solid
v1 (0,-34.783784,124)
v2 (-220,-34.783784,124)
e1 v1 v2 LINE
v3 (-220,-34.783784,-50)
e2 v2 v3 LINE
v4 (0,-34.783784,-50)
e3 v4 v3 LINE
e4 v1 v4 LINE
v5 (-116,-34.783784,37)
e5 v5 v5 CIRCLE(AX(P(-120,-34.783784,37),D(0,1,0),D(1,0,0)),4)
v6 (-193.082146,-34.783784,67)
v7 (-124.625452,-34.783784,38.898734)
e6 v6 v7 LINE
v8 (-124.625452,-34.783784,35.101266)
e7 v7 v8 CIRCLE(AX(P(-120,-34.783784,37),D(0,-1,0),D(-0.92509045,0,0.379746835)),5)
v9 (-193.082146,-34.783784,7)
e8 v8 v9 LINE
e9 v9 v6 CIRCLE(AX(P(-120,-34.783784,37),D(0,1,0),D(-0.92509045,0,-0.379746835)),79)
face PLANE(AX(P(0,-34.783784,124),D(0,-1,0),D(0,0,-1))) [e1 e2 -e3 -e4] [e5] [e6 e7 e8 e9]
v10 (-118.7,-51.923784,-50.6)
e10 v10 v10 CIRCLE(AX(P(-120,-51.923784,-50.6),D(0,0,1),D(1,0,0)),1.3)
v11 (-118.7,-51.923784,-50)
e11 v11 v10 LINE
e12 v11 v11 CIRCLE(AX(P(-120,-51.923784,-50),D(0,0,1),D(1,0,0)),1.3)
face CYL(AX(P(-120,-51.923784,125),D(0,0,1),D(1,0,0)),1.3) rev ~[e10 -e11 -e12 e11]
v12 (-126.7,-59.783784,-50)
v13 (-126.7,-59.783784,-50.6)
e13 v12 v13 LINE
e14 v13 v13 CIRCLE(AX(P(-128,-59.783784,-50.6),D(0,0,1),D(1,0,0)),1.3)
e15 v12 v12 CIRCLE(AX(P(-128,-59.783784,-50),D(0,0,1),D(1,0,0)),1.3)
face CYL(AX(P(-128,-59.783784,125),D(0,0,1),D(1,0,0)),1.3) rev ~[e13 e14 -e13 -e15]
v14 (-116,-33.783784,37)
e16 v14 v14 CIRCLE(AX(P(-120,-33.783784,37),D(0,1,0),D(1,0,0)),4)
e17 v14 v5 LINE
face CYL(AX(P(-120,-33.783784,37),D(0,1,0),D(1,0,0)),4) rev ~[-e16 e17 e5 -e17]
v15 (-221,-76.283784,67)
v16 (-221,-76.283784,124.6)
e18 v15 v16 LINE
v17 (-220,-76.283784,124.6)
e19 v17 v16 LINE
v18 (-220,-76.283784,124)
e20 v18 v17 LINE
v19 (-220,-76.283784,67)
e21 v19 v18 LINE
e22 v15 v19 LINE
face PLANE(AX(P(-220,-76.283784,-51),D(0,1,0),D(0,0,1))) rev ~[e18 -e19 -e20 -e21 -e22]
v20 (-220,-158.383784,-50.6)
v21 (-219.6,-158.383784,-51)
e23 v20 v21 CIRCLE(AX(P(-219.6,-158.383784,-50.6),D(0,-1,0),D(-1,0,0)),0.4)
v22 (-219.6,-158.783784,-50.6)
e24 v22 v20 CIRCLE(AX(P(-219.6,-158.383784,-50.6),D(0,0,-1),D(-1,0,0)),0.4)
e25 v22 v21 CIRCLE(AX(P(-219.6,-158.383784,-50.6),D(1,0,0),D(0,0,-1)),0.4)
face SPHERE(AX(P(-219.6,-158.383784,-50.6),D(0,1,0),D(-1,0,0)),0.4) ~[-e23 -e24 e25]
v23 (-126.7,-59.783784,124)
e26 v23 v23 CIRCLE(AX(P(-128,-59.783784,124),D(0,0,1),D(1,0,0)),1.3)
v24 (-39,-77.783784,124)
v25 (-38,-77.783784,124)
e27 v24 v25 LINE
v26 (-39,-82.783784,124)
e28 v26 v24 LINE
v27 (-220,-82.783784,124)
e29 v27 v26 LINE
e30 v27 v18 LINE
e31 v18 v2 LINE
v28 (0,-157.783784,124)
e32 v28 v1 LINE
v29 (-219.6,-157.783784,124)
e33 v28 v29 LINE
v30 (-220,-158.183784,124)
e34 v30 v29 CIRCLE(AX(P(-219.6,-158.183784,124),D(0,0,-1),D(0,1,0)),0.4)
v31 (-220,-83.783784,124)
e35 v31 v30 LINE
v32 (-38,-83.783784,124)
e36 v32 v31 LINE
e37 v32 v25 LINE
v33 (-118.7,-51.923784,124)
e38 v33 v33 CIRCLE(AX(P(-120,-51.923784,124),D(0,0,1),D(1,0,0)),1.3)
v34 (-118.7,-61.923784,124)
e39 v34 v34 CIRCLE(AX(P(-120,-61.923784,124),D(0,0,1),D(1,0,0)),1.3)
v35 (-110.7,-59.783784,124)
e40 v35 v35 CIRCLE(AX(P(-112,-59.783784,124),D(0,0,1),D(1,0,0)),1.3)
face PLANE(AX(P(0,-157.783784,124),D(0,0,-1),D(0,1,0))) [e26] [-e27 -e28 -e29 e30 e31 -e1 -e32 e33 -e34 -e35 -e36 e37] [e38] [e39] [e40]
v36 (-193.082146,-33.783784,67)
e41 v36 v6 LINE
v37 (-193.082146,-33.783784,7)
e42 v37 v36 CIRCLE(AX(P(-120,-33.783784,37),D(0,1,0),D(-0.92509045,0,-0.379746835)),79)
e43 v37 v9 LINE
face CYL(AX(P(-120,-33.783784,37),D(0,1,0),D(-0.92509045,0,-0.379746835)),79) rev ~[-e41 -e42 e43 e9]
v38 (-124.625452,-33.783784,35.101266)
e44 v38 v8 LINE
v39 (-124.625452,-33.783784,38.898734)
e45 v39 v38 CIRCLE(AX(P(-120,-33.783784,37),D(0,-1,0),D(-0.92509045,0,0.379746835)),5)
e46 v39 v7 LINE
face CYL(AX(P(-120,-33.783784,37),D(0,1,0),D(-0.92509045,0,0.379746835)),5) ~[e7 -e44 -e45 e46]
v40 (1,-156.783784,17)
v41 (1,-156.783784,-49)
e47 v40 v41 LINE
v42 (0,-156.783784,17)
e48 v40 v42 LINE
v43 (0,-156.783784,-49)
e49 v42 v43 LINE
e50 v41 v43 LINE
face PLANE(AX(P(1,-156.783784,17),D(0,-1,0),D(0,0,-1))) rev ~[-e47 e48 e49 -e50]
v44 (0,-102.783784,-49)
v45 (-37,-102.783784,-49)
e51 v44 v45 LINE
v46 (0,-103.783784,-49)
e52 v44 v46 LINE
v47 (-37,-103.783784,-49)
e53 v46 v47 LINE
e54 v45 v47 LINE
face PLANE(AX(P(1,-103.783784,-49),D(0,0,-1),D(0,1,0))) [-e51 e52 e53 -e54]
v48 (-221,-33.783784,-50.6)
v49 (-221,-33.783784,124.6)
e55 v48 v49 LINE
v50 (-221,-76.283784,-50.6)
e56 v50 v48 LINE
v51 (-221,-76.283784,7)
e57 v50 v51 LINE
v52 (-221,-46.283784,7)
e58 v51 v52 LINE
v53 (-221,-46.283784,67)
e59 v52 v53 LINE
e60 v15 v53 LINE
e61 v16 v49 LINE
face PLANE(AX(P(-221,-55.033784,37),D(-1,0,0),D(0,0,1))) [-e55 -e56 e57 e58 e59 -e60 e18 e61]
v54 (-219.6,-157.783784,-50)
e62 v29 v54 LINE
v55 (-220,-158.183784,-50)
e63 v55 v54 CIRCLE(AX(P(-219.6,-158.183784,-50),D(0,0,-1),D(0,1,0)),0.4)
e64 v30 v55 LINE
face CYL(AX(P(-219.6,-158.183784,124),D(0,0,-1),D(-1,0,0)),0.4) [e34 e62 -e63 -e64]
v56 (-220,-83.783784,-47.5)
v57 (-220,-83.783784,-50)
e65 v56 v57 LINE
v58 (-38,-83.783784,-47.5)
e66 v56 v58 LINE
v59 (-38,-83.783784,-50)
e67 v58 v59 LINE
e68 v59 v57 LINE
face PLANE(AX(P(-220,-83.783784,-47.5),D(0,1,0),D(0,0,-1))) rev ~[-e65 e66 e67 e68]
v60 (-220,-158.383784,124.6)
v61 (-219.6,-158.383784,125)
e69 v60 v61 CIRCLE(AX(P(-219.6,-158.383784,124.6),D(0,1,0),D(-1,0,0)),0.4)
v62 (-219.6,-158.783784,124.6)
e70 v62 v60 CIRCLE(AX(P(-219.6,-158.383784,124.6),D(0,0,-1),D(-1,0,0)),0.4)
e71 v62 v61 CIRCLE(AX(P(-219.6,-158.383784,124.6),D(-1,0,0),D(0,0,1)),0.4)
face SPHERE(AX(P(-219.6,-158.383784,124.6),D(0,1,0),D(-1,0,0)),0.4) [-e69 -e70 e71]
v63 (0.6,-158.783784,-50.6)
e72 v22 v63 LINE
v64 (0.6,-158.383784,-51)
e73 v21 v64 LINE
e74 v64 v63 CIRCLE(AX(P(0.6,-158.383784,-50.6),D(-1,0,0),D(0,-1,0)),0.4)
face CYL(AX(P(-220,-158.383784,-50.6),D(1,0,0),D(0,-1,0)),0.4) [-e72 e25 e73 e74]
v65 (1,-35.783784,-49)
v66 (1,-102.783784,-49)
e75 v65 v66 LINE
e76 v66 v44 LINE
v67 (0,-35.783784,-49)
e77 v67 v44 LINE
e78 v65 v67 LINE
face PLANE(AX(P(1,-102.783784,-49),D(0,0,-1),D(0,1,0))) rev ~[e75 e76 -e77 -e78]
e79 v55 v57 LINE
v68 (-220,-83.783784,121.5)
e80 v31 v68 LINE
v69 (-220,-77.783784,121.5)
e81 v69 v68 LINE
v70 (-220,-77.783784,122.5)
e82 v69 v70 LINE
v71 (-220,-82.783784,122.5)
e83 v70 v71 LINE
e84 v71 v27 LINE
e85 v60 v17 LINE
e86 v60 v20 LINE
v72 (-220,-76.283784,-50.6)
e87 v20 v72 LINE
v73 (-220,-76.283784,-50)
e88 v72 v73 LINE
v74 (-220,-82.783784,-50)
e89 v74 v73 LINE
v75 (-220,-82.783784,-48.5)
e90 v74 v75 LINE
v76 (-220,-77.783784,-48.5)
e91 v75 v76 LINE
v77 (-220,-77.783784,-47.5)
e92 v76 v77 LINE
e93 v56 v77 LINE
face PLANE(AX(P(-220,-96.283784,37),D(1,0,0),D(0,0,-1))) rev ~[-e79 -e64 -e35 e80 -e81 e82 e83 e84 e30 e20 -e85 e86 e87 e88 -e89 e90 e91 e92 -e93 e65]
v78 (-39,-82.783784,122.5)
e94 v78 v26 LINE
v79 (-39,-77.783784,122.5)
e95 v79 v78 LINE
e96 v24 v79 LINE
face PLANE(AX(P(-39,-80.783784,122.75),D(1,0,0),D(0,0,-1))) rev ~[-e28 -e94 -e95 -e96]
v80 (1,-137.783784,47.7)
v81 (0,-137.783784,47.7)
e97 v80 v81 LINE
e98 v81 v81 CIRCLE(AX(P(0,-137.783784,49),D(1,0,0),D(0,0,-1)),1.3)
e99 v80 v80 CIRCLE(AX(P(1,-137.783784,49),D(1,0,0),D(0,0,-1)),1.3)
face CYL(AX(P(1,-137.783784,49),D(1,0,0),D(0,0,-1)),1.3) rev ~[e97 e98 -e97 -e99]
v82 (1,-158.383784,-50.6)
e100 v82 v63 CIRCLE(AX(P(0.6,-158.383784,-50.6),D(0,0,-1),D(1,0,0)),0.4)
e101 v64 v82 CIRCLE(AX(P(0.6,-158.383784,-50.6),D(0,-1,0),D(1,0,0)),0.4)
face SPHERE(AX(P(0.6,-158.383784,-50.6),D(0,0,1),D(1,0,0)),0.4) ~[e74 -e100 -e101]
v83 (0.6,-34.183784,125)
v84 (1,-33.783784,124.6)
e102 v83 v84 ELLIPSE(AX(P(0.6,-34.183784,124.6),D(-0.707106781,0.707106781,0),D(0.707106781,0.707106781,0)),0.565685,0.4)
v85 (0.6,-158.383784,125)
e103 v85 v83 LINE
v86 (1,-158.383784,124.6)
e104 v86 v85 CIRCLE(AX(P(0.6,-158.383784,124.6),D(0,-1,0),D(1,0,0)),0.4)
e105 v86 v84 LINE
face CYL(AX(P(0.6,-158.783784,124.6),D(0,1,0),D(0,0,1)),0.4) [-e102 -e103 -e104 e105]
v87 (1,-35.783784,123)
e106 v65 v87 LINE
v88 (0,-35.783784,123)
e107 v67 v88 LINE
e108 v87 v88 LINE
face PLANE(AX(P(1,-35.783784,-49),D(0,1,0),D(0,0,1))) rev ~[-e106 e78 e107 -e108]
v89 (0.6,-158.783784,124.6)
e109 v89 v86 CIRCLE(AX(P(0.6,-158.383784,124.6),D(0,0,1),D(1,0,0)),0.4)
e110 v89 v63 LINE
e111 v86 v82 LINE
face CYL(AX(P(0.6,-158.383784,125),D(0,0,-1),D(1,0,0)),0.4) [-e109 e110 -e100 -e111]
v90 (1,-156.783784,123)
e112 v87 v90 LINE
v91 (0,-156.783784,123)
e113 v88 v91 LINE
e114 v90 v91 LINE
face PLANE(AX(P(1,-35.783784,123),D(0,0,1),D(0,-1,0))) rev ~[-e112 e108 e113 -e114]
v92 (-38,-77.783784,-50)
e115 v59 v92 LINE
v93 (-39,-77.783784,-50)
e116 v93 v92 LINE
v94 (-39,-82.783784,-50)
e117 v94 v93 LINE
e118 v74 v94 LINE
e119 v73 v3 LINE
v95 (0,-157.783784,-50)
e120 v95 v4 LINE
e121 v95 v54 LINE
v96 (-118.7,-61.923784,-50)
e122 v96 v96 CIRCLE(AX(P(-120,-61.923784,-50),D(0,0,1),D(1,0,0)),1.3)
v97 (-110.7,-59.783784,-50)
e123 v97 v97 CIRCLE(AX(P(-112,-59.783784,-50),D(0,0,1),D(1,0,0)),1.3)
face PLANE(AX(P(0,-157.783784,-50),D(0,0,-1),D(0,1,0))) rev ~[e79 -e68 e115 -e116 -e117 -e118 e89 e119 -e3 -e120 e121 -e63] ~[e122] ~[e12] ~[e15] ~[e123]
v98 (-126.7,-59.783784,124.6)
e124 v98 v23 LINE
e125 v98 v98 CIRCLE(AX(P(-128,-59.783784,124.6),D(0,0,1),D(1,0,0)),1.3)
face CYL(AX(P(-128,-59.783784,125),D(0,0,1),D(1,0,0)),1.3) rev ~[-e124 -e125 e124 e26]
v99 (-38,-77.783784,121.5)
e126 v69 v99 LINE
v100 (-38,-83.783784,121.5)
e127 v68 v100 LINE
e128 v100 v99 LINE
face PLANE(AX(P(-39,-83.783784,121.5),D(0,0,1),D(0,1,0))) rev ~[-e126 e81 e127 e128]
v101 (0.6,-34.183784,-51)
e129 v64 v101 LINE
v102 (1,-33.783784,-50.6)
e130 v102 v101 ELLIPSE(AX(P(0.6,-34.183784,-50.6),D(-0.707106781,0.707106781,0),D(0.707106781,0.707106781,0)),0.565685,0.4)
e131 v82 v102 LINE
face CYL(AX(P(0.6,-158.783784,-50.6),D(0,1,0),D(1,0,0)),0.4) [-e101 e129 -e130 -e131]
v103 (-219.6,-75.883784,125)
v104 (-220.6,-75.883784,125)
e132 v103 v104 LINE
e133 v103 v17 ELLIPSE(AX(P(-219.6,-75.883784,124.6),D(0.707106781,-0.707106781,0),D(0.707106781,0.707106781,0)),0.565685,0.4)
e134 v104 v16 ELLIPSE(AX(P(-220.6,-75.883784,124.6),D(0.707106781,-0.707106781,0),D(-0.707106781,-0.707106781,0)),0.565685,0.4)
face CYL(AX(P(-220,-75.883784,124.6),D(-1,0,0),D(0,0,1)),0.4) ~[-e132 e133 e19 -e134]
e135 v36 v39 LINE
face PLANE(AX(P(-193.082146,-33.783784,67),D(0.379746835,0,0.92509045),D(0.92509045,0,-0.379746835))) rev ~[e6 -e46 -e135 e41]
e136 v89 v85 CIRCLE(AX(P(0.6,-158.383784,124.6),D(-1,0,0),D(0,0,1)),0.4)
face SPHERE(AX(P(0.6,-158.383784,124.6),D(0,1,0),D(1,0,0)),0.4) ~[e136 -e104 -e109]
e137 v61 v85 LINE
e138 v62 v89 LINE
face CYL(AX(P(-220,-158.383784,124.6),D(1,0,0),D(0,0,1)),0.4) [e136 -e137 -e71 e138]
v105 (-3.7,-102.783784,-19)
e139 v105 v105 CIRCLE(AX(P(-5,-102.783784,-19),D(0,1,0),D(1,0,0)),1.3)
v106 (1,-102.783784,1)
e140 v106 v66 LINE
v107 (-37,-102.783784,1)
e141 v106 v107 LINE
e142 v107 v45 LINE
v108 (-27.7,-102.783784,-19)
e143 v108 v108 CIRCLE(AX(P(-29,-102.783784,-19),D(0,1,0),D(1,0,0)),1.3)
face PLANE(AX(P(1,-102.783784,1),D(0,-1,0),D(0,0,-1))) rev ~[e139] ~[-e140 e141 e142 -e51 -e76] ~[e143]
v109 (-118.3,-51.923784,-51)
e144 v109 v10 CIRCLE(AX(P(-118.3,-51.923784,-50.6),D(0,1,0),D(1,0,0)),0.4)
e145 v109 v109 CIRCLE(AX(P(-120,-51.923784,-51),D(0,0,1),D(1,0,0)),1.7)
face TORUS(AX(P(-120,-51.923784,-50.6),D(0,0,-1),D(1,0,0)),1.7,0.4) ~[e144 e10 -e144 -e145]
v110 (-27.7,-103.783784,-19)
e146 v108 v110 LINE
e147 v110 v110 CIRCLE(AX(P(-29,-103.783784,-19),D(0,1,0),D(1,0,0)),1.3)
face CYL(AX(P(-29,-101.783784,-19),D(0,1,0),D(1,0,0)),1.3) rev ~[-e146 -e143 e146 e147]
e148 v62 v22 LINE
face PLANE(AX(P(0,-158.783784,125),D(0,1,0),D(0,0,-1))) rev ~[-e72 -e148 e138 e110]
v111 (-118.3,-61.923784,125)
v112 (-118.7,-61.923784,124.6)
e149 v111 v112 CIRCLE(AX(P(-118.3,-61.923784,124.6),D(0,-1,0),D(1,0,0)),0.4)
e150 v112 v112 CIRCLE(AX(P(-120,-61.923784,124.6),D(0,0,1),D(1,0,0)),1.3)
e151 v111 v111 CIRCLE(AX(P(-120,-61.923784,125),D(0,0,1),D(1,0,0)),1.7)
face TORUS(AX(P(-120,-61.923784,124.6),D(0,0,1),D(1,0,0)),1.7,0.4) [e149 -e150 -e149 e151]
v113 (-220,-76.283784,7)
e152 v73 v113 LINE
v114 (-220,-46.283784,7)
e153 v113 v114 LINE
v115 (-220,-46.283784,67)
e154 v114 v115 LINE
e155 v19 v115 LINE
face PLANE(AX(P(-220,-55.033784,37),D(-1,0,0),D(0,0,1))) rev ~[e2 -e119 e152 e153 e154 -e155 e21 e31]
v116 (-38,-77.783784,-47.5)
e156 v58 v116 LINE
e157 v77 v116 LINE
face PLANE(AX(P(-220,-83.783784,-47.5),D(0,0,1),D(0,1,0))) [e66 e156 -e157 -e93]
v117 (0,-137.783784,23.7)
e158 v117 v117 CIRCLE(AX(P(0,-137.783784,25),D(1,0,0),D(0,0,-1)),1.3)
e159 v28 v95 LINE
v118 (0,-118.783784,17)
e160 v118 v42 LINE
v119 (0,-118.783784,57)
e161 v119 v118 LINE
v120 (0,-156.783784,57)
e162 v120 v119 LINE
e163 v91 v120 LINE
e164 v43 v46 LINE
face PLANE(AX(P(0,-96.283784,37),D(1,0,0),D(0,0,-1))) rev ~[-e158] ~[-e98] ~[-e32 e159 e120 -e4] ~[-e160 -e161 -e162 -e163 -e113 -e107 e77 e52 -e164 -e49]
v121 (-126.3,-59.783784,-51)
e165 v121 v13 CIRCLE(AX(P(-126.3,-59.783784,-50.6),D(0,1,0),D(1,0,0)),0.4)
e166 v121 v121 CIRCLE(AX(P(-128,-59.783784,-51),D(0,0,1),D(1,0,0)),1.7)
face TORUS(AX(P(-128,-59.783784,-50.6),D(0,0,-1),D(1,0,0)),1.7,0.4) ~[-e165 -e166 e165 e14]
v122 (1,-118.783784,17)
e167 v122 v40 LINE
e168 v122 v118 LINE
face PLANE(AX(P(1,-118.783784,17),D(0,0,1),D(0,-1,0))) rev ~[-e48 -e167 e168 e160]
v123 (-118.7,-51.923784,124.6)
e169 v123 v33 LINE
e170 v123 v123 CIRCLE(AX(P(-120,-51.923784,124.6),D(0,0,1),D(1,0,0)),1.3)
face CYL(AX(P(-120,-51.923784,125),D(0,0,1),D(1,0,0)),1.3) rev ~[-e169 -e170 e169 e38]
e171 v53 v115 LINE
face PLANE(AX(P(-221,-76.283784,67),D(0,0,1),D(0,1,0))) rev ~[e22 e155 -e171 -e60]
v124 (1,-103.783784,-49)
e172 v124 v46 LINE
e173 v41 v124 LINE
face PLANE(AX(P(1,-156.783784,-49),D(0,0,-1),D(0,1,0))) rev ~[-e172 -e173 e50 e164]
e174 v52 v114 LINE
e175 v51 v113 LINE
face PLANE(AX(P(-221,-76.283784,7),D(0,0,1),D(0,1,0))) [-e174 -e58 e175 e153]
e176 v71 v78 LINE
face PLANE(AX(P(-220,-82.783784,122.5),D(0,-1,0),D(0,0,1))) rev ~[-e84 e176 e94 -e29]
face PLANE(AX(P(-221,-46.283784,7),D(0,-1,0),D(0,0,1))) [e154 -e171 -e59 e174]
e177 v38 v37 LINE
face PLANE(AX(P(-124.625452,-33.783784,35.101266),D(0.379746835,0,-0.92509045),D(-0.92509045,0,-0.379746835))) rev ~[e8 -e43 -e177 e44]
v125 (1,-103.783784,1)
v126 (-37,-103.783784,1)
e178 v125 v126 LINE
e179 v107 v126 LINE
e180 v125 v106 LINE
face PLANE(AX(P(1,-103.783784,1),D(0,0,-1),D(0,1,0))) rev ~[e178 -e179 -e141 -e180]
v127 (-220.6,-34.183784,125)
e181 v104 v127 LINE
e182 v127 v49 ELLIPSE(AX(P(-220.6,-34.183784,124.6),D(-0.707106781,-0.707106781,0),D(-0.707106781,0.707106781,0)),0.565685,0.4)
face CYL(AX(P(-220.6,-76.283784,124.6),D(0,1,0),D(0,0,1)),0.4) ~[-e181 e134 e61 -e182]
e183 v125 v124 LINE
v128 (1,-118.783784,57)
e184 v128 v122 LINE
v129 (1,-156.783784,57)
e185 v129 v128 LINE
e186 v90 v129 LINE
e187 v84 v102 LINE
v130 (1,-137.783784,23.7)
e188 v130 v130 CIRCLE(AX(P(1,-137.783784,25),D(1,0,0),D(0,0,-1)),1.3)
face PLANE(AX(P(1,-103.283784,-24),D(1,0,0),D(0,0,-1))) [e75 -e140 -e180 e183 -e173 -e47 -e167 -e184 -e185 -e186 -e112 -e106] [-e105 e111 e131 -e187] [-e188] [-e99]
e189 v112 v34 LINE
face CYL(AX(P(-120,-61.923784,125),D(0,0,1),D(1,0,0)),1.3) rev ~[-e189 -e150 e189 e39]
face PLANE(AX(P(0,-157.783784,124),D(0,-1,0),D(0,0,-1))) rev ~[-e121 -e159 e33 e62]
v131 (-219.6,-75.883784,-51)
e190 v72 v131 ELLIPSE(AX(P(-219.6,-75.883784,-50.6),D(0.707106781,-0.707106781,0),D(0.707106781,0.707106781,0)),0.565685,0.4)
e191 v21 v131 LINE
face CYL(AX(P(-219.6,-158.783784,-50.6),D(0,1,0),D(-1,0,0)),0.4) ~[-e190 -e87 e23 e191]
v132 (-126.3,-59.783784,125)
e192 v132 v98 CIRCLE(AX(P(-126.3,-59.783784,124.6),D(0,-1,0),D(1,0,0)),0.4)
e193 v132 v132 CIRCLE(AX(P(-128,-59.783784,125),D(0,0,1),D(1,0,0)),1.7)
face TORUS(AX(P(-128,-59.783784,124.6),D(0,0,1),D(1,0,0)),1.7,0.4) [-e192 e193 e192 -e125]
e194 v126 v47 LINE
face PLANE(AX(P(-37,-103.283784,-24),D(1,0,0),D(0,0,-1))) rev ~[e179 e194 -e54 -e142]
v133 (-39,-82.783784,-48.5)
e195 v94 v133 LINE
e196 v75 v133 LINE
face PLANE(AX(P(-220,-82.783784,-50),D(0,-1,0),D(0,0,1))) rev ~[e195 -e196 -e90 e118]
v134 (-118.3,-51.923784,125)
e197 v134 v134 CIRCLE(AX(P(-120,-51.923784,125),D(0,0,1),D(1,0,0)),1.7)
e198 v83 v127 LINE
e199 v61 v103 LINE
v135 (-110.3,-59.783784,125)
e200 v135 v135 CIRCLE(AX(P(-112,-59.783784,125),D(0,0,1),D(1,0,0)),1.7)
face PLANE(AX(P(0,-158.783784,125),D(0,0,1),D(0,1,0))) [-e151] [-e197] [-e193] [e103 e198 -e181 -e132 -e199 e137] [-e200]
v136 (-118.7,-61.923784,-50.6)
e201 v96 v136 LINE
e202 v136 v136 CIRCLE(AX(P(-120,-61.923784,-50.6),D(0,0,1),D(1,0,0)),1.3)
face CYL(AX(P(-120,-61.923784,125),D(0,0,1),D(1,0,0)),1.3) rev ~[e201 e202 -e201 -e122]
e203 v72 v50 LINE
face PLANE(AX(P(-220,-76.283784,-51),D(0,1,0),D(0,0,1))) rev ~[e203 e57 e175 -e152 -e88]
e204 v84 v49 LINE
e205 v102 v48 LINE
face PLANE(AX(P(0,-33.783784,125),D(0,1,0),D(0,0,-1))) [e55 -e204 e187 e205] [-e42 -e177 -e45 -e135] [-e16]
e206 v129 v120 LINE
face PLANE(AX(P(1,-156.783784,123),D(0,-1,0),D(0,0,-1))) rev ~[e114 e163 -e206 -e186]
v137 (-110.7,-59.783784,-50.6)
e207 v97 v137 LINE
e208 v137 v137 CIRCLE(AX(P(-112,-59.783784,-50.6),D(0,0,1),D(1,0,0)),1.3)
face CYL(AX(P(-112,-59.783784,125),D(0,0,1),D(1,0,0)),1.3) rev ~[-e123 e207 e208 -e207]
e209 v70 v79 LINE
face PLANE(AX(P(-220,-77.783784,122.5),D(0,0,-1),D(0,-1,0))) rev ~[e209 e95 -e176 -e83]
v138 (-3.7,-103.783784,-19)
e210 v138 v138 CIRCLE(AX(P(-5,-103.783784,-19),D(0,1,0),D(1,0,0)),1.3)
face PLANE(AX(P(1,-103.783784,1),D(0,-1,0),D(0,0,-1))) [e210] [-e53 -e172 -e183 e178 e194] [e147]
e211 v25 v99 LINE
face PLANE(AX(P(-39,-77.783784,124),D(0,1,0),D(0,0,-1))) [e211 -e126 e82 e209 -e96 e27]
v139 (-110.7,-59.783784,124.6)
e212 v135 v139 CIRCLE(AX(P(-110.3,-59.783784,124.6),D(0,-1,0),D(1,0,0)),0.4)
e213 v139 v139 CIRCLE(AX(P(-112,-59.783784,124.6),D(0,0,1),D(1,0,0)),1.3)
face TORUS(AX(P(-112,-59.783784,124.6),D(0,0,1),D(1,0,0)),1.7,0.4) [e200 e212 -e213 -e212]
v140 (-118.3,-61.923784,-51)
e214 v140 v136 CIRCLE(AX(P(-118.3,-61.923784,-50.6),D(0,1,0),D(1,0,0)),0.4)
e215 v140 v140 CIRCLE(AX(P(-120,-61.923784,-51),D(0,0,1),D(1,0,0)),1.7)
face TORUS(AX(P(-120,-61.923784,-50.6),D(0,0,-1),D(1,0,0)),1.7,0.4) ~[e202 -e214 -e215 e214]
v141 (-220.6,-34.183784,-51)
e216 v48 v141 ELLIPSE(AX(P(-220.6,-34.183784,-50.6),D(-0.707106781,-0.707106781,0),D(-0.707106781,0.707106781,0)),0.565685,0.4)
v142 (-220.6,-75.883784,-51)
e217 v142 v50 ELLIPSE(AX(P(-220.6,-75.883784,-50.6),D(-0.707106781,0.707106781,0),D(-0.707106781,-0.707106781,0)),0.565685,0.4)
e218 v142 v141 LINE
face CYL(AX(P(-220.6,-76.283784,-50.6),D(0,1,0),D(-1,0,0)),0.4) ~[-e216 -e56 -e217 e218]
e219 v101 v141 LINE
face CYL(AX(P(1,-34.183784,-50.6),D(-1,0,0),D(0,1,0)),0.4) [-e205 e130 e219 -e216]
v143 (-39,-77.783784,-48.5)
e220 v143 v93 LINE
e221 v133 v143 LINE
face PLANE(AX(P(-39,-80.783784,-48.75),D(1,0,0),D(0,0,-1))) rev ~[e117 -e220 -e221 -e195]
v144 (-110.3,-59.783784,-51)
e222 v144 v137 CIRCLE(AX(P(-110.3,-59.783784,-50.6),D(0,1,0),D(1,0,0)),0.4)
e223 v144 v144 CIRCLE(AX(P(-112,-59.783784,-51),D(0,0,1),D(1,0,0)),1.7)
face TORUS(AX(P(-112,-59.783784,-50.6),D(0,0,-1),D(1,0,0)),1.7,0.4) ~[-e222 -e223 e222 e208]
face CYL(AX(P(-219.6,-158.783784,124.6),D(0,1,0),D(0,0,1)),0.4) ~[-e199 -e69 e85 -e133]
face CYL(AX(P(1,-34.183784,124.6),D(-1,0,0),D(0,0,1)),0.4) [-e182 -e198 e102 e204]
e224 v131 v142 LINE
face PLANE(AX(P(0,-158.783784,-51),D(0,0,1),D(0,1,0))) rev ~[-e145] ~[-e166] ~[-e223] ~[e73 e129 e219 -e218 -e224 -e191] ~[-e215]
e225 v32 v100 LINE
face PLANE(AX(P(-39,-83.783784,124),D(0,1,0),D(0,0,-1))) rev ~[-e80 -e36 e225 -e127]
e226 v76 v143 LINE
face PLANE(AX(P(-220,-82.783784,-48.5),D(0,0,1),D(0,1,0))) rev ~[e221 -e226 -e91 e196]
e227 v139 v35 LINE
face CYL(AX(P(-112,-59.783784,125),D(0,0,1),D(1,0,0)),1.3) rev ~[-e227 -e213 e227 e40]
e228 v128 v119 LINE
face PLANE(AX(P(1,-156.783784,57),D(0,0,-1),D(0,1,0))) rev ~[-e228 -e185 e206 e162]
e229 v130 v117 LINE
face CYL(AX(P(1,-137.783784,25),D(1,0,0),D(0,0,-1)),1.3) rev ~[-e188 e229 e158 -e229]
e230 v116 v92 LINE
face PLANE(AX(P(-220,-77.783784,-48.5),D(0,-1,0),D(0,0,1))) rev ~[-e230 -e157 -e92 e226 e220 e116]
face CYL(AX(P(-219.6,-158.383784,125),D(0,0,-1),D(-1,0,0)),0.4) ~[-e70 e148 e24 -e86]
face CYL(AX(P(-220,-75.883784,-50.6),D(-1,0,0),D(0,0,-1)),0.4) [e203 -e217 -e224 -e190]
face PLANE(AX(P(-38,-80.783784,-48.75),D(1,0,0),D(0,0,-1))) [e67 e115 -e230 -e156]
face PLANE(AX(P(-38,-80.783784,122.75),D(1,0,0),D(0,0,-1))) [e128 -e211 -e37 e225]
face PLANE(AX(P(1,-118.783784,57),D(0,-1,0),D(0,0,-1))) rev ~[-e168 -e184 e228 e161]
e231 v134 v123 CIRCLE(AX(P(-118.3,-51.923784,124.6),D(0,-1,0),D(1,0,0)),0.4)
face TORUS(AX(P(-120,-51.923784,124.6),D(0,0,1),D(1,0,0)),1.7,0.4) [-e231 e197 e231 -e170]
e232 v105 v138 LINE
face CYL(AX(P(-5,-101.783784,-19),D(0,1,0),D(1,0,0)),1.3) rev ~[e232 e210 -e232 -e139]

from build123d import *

# Parameters (mm, degrees)
SKETCH3_W               = 176
SKETCH3_H               = 125
SKETCH3_W_2             = 174
SKETCH3_H_2             = 123
BOSS_EXTRUDE1_DEPTH     = 220
BOSS_EXTRUDE3_DEPTH     = 181
SKETCH9_W               = 2.5
SKETCH9_H               = 6
BOSS_EXTRUDE4_DEPTH     = 1
SKETCH11_R              = 4
CUT_EXTRUDE1_DEPTH      = 1
SKETCH12_W              = 176
SKETCH12_H              = 42.5
BOSS_EXTRUDE5_DEPTH     = 1
SKETCH13_W              = 60
SKETCH13_H              = 30
CUT_EXTRUDE2_DEPTH      = 1
SKETCH18_R              = 1.3
CUT_EXTRUDE3_DEPTH      = 1
CUT_EXTRUDE3_DEPTH_BACK = 177
SKETCH20_R              = 1.3
CUT_EXTRUDE4_DEPTH      = 1
CUT_EXTRUDE4_DEPTH_BACK = 177
SKETCH22_W              = 176
SKETCH22_H              = 125
BOSS_EXTRUDE6_DEPTH     = 1
SKETCH23_R              = 1.3
CUT_EXTRUDE5_DEPTH      = 2
CUT_EXTRUDE6_DEPTH      = 2
FILLET5_R               = 0.4
SKETCH25_W              = 50
SKETCH25_H              = 1
BOSS_EXTRUDE7_DEPTH     = 50
SKETCH28_R              = 1.3
CUT_EXTRUDE7_DEPTH      = 1
SKETCH29_W              = 50
SKETCH29_H              = 1
BOSS_EXTRUDE9_DEPTH     = 40
SKETCH30_W              = 50
SKETCH30_H              = 1
CUT_EXTRUDE9_DEPTH      = 12
CUT_EXTRUDE11_REACH     = 59
SKETCH31_R              = 1.3
SKETCH32_W              = 50
SKETCH32_H              = 1
BOSS_EXTRUDE10_DEPTH    = 38
SKETCH33_R              = 1.3
CUT_EXTRUDE12_DEPTH     = 38
SKETCH34_W              = 50
SKETCH34_H              = 1
CUT_EXTRUDE13_DEPTH     = 38


with BuildPart() as part:
    # Sketch3 → Boss-Extrude1 (new body)
    with BuildSketch(Plane(origin=(0, 0, 0), x_dir=(0, 0, -1), z_dir=(1, 0, 0))):
        with Locations((-37, -96.283783784)):
            Rectangle(SKETCH3_W, SKETCH3_H)
        with Locations((-37, -96.283783784)):
            Rectangle(SKETCH3_W_2, SKETCH3_H_2, mode=Mode.SUBTRACT)
    extrude(amount=-BOSS_EXTRUDE1_DEPTH)

    # Sketch6 → Boss-Extrude3 (add)
    with BuildSketch(Plane.ZY.offset(220)):
        Polygon((-50, -82.783783784), (-48.5, -82.783783784), (-48.5, -77.783783784), (-47.5, -77.783783784), (-47.5, -82.783783784), (-47.5, -83.783783784), (-50, -83.783783784), align=None)
        Polygon((124, -82.783783784), (124, -83.783783784), (121.5, -83.783783784), (121.5, -82.783783784), (121.5, -77.783783784), (122.5, -77.783783784), (122.5, -82.783783784), align=None)
    extrude(amount=-BOSS_EXTRUDE3_DEPTH)

    # Sketch9 → Boss-Extrude4 (add)
    with BuildSketch(Plane(origin=(-39, 0, 0), x_dir=(0, 0, -1), z_dir=(1, 0, 0))):
        with Locations((-122.75, -80.783783784)):
            Rectangle(SKETCH9_W, SKETCH9_H)
        with Locations((48.75, -80.783783784)):
            Rectangle(SKETCH9_W, SKETCH9_H)
    extrude(amount=BOSS_EXTRUDE4_DEPTH)

    # Sketch11 → Cut-Extrude1 (cut)
    with BuildSketch(Plane(origin=(0, -33.783783784, 0), x_dir=(1, 0, 0), z_dir=(0, 1, 0))):
        with BuildLine():
            Line((-124.625452251, -35.101265823), (-193.082145562, -7))
            ThreePointArc((-193.082145562, -7), (-199, -37), (-193.082145562, -67))
            Line((-193.082145562, -67), (-124.625452251, -38.898734177))
            ThreePointArc((-124.625452251, -38.898734177), (-125, -37), (-124.625452251, -35.101265823))
        make_face()
        with Locations((-120, -37)):
            Circle(SKETCH11_R)
    extrude(amount=-CUT_EXTRUDE1_DEPTH, mode=Mode.SUBTRACT)

    # Sketch12 → Boss-Extrude5 (add)
    with BuildSketch(Plane.ZY.offset(220)):
        with Locations((37, -55.033783784)):
            Rectangle(SKETCH12_W, SKETCH12_H)
    extrude(amount=BOSS_EXTRUDE5_DEPTH)

    # Sketch13 → Cut-Extrude2 (cut)
    with BuildSketch(Plane.ZY.offset(221)):
        with Locations((37, -61.283783784)):
            Rectangle(SKETCH13_W, SKETCH13_H)
    extrude(amount=-CUT_EXTRUDE2_DEPTH, mode=Mode.SUBTRACT)

    # Sketch18 → Cut-Extrude3 (cut, two sides)
    with BuildSketch(Plane.XY.offset(125)) as cut_extrude3_sk:
        with Locations((-120, -51.923783784)):
            Circle(SKETCH18_R)
        with Locations((-120, -61.923783784)):
            Circle(SKETCH18_R)
    extrude(amount=CUT_EXTRUDE3_DEPTH, mode=Mode.SUBTRACT)
    extrude(cut_extrude3_sk.sketch, amount=-CUT_EXTRUDE3_DEPTH_BACK, mode=Mode.SUBTRACT)

    # Sketch20 → Cut-Extrude4 (cut, two sides)
    with BuildSketch(Plane.XY.offset(125)) as cut_extrude4_sk:
        with Locations((-128, -59.783783784)):
            Circle(SKETCH20_R)
        with Locations((-112, -59.783783784)):
            Circle(SKETCH20_R)
    extrude(amount=CUT_EXTRUDE4_DEPTH, mode=Mode.SUBTRACT)
    extrude(cut_extrude4_sk.sketch, amount=-CUT_EXTRUDE4_DEPTH_BACK, mode=Mode.SUBTRACT)

    # Sketch22 → Boss-Extrude6 (add)
    with BuildSketch(Plane(origin=(0, 0, 0), x_dir=(0, 0, -1), z_dir=(1, 0, 0))):
        with Locations((-37, -96.283783784)):
            Rectangle(SKETCH22_W, SKETCH22_H)
    extrude(amount=BOSS_EXTRUDE6_DEPTH)

    # Sketch23 → Cut-Extrude5 (cut)
    with BuildSketch(Plane(origin=(1, 0, 0), x_dir=(0, 0, -1), z_dir=(1, 0, 0))):
        with Locations((-49, -137.783783784)):
            Circle(SKETCH23_R)
        with Locations((-25, -137.783783784)):
            Circle(SKETCH23_R)
    extrude(amount=-CUT_EXTRUDE5_DEPTH, mode=Mode.SUBTRACT)

    # Sketch24 → Cut-Extrude6 (cut)
    with BuildSketch(Plane(origin=(1, 0, 0), x_dir=(0, 0, -1), z_dir=(1, 0, 0))):
        Polygon((-57, -156.783783784), (-57, -118.783783784), (-17, -118.783783784), (-17, -156.783783784), (49, -156.783783784), (49, -35.783783784), (-123, -35.783783784), (-123, -156.783783784), align=None)
    extrude(amount=-CUT_EXTRUDE6_DEPTH, mode=Mode.SUBTRACT)

    # Fillet5
    fillet5_edges = [part.edges().sort_by_distance(p)[0] for p in [
        (-220, -117.533783784, -51),
        (-220, -117.533783784, 125),
        (-220.5, -76.283783784, -51),
        (-220.5, -76.283783784, 125),
        (-221, -55.033783784, -51),
        (-221, -55.033783784, 125),
        (-121.3, -51.923783784, -51),
        (-121.3, -51.923783784, 125),
        (-220, -157.783783784, 37),
        (-121.3, -61.923783784, -51),
        (-121.3, -61.923783784, 125),
        (-129.3, -59.783783784, -51),
        (-129.3, -59.783783784, 125),
        (-113.3, -59.783783784, -51),
        (-113.3, -59.783783784, 125),
        (1, -96.283783784, 125),
        (1, -158.783783784, 37),
        (1, -96.283783784, -51),
        (-220, -158.783783784, 37),
        (-110, -33.783783784, 125),
        (-110, -33.783783784, -51),
        (-109.5, -158.783783784, -51),
        (-109.5, -158.783783784, 125),
    ]]
    fillet(fillet5_edges, radius=FILLET5_R)

    # Sketch25 → Boss-Extrude7 (add)
    with BuildSketch(Plane(origin=(1, 0, 0), x_dir=(0, 0, -1), z_dir=(1, 0, 0))):
        with Locations((24, -102.283783784)):
            Rectangle(SKETCH25_W, SKETCH25_H)
    extrude(amount=-BOSS_EXTRUDE7_DEPTH)

    # Sketch28 → Cut-Extrude7 (cut)
    with BuildSketch(Plane(origin=(0, -101.783783784, 0), x_dir=(1, 0, 0), z_dir=(0, 1, 0))):
        with Locations((-41, 19)):
            Circle(SKETCH28_R)
        with Locations((-17, 19)):
            Circle(SKETCH28_R)
    extrude(amount=-CUT_EXTRUDE7_DEPTH, mode=Mode.SUBTRACT)

    # Sketch29 → Boss-Extrude9 (add)
    with BuildSketch(Plane(origin=(1, 0, 0), x_dir=(0, 0, -1), z_dir=(1, 0, 0))):
        with Locations((24, -102.283783784)):
            Rectangle(SKETCH29_W, SKETCH29_H)
    extrude(amount=-BOSS_EXTRUDE9_DEPTH)

    # Sketch30 → Cut-Extrude9 (cut)
    with BuildSketch(Plane.ZY.offset(49)):
        with Locations((-24, -102.283783784)):
            Rectangle(SKETCH30_W, SKETCH30_H)
    extrude(amount=-CUT_EXTRUDE9_DEPTH, mode=Mode.SUBTRACT)

    # Sketch31 → Cut-Extrude11 (cut, up to next)
    with BuildSketch(Plane(origin=(0, -101.783783784, 0), x_dir=(1, 0, 0), z_dir=(0, 1, 0)), mode=Mode.PRIVATE) as cut_extrude11_sk1:
        with Locations((-29, 19)):
            Circle(SKETCH31_R)
    cut_extrude11_tool1 = extrude(cut_extrude11_sk1.sketch, amount=-CUT_EXTRUDE11_REACH, mode=Mode.PRIVATE) & part.part
    add(cut_extrude11_tool1.solids().sort_by_distance((-29, -101.783784, -19))[0], mode=Mode.SUBTRACT)
    # Sketch31 → Cut-Extrude11 (cut, up to next)
    with BuildSketch(Plane(origin=(0, -101.783783784, 0), x_dir=(1, 0, 0), z_dir=(0, 1, 0)), mode=Mode.PRIVATE) as cut_extrude11_sk2:
        with Locations((-5, 19)):
            Circle(SKETCH31_R)
    cut_extrude11_tool2 = extrude(cut_extrude11_sk2.sketch, amount=-CUT_EXTRUDE11_REACH, mode=Mode.PRIVATE) & part.part
    add(cut_extrude11_tool2.solids().sort_by_distance((-5, -101.783784, -19))[0], mode=Mode.SUBTRACT)

    # Sketch32 → Boss-Extrude10 (add)
    with BuildSketch(Plane(origin=(1, 0, 0), x_dir=(0, 0, -1), z_dir=(1, 0, 0))):
        with Locations((24, -103.283783784)):
            Rectangle(SKETCH32_W, SKETCH32_H)
    extrude(amount=-BOSS_EXTRUDE10_DEPTH)

    # Sketch33 → Cut-Extrude12 (cut)
    with BuildSketch(Plane(origin=(0, -101.783783784, 0), x_dir=(1, 0, 0), z_dir=(0, 1, 0))):
        with Locations((-29, 19)):
            Circle(SKETCH33_R)
        with Locations((-5, 19)):
            Circle(SKETCH33_R)
    extrude(amount=-CUT_EXTRUDE12_DEPTH, mode=Mode.SUBTRACT)

    # Sketch34 → Cut-Extrude13 (cut)
    with BuildSketch(Plane(origin=(1, 0, 0), x_dir=(0, 0, -1), z_dir=(1, 0, 0))):
        with Locations((24, -102.283783784)):
            Rectangle(SKETCH34_W, SKETCH34_H)
    extrude(amount=-CUT_EXTRUDE13_DEPTH, mode=Mode.SUBTRACT)


solid = part.part
